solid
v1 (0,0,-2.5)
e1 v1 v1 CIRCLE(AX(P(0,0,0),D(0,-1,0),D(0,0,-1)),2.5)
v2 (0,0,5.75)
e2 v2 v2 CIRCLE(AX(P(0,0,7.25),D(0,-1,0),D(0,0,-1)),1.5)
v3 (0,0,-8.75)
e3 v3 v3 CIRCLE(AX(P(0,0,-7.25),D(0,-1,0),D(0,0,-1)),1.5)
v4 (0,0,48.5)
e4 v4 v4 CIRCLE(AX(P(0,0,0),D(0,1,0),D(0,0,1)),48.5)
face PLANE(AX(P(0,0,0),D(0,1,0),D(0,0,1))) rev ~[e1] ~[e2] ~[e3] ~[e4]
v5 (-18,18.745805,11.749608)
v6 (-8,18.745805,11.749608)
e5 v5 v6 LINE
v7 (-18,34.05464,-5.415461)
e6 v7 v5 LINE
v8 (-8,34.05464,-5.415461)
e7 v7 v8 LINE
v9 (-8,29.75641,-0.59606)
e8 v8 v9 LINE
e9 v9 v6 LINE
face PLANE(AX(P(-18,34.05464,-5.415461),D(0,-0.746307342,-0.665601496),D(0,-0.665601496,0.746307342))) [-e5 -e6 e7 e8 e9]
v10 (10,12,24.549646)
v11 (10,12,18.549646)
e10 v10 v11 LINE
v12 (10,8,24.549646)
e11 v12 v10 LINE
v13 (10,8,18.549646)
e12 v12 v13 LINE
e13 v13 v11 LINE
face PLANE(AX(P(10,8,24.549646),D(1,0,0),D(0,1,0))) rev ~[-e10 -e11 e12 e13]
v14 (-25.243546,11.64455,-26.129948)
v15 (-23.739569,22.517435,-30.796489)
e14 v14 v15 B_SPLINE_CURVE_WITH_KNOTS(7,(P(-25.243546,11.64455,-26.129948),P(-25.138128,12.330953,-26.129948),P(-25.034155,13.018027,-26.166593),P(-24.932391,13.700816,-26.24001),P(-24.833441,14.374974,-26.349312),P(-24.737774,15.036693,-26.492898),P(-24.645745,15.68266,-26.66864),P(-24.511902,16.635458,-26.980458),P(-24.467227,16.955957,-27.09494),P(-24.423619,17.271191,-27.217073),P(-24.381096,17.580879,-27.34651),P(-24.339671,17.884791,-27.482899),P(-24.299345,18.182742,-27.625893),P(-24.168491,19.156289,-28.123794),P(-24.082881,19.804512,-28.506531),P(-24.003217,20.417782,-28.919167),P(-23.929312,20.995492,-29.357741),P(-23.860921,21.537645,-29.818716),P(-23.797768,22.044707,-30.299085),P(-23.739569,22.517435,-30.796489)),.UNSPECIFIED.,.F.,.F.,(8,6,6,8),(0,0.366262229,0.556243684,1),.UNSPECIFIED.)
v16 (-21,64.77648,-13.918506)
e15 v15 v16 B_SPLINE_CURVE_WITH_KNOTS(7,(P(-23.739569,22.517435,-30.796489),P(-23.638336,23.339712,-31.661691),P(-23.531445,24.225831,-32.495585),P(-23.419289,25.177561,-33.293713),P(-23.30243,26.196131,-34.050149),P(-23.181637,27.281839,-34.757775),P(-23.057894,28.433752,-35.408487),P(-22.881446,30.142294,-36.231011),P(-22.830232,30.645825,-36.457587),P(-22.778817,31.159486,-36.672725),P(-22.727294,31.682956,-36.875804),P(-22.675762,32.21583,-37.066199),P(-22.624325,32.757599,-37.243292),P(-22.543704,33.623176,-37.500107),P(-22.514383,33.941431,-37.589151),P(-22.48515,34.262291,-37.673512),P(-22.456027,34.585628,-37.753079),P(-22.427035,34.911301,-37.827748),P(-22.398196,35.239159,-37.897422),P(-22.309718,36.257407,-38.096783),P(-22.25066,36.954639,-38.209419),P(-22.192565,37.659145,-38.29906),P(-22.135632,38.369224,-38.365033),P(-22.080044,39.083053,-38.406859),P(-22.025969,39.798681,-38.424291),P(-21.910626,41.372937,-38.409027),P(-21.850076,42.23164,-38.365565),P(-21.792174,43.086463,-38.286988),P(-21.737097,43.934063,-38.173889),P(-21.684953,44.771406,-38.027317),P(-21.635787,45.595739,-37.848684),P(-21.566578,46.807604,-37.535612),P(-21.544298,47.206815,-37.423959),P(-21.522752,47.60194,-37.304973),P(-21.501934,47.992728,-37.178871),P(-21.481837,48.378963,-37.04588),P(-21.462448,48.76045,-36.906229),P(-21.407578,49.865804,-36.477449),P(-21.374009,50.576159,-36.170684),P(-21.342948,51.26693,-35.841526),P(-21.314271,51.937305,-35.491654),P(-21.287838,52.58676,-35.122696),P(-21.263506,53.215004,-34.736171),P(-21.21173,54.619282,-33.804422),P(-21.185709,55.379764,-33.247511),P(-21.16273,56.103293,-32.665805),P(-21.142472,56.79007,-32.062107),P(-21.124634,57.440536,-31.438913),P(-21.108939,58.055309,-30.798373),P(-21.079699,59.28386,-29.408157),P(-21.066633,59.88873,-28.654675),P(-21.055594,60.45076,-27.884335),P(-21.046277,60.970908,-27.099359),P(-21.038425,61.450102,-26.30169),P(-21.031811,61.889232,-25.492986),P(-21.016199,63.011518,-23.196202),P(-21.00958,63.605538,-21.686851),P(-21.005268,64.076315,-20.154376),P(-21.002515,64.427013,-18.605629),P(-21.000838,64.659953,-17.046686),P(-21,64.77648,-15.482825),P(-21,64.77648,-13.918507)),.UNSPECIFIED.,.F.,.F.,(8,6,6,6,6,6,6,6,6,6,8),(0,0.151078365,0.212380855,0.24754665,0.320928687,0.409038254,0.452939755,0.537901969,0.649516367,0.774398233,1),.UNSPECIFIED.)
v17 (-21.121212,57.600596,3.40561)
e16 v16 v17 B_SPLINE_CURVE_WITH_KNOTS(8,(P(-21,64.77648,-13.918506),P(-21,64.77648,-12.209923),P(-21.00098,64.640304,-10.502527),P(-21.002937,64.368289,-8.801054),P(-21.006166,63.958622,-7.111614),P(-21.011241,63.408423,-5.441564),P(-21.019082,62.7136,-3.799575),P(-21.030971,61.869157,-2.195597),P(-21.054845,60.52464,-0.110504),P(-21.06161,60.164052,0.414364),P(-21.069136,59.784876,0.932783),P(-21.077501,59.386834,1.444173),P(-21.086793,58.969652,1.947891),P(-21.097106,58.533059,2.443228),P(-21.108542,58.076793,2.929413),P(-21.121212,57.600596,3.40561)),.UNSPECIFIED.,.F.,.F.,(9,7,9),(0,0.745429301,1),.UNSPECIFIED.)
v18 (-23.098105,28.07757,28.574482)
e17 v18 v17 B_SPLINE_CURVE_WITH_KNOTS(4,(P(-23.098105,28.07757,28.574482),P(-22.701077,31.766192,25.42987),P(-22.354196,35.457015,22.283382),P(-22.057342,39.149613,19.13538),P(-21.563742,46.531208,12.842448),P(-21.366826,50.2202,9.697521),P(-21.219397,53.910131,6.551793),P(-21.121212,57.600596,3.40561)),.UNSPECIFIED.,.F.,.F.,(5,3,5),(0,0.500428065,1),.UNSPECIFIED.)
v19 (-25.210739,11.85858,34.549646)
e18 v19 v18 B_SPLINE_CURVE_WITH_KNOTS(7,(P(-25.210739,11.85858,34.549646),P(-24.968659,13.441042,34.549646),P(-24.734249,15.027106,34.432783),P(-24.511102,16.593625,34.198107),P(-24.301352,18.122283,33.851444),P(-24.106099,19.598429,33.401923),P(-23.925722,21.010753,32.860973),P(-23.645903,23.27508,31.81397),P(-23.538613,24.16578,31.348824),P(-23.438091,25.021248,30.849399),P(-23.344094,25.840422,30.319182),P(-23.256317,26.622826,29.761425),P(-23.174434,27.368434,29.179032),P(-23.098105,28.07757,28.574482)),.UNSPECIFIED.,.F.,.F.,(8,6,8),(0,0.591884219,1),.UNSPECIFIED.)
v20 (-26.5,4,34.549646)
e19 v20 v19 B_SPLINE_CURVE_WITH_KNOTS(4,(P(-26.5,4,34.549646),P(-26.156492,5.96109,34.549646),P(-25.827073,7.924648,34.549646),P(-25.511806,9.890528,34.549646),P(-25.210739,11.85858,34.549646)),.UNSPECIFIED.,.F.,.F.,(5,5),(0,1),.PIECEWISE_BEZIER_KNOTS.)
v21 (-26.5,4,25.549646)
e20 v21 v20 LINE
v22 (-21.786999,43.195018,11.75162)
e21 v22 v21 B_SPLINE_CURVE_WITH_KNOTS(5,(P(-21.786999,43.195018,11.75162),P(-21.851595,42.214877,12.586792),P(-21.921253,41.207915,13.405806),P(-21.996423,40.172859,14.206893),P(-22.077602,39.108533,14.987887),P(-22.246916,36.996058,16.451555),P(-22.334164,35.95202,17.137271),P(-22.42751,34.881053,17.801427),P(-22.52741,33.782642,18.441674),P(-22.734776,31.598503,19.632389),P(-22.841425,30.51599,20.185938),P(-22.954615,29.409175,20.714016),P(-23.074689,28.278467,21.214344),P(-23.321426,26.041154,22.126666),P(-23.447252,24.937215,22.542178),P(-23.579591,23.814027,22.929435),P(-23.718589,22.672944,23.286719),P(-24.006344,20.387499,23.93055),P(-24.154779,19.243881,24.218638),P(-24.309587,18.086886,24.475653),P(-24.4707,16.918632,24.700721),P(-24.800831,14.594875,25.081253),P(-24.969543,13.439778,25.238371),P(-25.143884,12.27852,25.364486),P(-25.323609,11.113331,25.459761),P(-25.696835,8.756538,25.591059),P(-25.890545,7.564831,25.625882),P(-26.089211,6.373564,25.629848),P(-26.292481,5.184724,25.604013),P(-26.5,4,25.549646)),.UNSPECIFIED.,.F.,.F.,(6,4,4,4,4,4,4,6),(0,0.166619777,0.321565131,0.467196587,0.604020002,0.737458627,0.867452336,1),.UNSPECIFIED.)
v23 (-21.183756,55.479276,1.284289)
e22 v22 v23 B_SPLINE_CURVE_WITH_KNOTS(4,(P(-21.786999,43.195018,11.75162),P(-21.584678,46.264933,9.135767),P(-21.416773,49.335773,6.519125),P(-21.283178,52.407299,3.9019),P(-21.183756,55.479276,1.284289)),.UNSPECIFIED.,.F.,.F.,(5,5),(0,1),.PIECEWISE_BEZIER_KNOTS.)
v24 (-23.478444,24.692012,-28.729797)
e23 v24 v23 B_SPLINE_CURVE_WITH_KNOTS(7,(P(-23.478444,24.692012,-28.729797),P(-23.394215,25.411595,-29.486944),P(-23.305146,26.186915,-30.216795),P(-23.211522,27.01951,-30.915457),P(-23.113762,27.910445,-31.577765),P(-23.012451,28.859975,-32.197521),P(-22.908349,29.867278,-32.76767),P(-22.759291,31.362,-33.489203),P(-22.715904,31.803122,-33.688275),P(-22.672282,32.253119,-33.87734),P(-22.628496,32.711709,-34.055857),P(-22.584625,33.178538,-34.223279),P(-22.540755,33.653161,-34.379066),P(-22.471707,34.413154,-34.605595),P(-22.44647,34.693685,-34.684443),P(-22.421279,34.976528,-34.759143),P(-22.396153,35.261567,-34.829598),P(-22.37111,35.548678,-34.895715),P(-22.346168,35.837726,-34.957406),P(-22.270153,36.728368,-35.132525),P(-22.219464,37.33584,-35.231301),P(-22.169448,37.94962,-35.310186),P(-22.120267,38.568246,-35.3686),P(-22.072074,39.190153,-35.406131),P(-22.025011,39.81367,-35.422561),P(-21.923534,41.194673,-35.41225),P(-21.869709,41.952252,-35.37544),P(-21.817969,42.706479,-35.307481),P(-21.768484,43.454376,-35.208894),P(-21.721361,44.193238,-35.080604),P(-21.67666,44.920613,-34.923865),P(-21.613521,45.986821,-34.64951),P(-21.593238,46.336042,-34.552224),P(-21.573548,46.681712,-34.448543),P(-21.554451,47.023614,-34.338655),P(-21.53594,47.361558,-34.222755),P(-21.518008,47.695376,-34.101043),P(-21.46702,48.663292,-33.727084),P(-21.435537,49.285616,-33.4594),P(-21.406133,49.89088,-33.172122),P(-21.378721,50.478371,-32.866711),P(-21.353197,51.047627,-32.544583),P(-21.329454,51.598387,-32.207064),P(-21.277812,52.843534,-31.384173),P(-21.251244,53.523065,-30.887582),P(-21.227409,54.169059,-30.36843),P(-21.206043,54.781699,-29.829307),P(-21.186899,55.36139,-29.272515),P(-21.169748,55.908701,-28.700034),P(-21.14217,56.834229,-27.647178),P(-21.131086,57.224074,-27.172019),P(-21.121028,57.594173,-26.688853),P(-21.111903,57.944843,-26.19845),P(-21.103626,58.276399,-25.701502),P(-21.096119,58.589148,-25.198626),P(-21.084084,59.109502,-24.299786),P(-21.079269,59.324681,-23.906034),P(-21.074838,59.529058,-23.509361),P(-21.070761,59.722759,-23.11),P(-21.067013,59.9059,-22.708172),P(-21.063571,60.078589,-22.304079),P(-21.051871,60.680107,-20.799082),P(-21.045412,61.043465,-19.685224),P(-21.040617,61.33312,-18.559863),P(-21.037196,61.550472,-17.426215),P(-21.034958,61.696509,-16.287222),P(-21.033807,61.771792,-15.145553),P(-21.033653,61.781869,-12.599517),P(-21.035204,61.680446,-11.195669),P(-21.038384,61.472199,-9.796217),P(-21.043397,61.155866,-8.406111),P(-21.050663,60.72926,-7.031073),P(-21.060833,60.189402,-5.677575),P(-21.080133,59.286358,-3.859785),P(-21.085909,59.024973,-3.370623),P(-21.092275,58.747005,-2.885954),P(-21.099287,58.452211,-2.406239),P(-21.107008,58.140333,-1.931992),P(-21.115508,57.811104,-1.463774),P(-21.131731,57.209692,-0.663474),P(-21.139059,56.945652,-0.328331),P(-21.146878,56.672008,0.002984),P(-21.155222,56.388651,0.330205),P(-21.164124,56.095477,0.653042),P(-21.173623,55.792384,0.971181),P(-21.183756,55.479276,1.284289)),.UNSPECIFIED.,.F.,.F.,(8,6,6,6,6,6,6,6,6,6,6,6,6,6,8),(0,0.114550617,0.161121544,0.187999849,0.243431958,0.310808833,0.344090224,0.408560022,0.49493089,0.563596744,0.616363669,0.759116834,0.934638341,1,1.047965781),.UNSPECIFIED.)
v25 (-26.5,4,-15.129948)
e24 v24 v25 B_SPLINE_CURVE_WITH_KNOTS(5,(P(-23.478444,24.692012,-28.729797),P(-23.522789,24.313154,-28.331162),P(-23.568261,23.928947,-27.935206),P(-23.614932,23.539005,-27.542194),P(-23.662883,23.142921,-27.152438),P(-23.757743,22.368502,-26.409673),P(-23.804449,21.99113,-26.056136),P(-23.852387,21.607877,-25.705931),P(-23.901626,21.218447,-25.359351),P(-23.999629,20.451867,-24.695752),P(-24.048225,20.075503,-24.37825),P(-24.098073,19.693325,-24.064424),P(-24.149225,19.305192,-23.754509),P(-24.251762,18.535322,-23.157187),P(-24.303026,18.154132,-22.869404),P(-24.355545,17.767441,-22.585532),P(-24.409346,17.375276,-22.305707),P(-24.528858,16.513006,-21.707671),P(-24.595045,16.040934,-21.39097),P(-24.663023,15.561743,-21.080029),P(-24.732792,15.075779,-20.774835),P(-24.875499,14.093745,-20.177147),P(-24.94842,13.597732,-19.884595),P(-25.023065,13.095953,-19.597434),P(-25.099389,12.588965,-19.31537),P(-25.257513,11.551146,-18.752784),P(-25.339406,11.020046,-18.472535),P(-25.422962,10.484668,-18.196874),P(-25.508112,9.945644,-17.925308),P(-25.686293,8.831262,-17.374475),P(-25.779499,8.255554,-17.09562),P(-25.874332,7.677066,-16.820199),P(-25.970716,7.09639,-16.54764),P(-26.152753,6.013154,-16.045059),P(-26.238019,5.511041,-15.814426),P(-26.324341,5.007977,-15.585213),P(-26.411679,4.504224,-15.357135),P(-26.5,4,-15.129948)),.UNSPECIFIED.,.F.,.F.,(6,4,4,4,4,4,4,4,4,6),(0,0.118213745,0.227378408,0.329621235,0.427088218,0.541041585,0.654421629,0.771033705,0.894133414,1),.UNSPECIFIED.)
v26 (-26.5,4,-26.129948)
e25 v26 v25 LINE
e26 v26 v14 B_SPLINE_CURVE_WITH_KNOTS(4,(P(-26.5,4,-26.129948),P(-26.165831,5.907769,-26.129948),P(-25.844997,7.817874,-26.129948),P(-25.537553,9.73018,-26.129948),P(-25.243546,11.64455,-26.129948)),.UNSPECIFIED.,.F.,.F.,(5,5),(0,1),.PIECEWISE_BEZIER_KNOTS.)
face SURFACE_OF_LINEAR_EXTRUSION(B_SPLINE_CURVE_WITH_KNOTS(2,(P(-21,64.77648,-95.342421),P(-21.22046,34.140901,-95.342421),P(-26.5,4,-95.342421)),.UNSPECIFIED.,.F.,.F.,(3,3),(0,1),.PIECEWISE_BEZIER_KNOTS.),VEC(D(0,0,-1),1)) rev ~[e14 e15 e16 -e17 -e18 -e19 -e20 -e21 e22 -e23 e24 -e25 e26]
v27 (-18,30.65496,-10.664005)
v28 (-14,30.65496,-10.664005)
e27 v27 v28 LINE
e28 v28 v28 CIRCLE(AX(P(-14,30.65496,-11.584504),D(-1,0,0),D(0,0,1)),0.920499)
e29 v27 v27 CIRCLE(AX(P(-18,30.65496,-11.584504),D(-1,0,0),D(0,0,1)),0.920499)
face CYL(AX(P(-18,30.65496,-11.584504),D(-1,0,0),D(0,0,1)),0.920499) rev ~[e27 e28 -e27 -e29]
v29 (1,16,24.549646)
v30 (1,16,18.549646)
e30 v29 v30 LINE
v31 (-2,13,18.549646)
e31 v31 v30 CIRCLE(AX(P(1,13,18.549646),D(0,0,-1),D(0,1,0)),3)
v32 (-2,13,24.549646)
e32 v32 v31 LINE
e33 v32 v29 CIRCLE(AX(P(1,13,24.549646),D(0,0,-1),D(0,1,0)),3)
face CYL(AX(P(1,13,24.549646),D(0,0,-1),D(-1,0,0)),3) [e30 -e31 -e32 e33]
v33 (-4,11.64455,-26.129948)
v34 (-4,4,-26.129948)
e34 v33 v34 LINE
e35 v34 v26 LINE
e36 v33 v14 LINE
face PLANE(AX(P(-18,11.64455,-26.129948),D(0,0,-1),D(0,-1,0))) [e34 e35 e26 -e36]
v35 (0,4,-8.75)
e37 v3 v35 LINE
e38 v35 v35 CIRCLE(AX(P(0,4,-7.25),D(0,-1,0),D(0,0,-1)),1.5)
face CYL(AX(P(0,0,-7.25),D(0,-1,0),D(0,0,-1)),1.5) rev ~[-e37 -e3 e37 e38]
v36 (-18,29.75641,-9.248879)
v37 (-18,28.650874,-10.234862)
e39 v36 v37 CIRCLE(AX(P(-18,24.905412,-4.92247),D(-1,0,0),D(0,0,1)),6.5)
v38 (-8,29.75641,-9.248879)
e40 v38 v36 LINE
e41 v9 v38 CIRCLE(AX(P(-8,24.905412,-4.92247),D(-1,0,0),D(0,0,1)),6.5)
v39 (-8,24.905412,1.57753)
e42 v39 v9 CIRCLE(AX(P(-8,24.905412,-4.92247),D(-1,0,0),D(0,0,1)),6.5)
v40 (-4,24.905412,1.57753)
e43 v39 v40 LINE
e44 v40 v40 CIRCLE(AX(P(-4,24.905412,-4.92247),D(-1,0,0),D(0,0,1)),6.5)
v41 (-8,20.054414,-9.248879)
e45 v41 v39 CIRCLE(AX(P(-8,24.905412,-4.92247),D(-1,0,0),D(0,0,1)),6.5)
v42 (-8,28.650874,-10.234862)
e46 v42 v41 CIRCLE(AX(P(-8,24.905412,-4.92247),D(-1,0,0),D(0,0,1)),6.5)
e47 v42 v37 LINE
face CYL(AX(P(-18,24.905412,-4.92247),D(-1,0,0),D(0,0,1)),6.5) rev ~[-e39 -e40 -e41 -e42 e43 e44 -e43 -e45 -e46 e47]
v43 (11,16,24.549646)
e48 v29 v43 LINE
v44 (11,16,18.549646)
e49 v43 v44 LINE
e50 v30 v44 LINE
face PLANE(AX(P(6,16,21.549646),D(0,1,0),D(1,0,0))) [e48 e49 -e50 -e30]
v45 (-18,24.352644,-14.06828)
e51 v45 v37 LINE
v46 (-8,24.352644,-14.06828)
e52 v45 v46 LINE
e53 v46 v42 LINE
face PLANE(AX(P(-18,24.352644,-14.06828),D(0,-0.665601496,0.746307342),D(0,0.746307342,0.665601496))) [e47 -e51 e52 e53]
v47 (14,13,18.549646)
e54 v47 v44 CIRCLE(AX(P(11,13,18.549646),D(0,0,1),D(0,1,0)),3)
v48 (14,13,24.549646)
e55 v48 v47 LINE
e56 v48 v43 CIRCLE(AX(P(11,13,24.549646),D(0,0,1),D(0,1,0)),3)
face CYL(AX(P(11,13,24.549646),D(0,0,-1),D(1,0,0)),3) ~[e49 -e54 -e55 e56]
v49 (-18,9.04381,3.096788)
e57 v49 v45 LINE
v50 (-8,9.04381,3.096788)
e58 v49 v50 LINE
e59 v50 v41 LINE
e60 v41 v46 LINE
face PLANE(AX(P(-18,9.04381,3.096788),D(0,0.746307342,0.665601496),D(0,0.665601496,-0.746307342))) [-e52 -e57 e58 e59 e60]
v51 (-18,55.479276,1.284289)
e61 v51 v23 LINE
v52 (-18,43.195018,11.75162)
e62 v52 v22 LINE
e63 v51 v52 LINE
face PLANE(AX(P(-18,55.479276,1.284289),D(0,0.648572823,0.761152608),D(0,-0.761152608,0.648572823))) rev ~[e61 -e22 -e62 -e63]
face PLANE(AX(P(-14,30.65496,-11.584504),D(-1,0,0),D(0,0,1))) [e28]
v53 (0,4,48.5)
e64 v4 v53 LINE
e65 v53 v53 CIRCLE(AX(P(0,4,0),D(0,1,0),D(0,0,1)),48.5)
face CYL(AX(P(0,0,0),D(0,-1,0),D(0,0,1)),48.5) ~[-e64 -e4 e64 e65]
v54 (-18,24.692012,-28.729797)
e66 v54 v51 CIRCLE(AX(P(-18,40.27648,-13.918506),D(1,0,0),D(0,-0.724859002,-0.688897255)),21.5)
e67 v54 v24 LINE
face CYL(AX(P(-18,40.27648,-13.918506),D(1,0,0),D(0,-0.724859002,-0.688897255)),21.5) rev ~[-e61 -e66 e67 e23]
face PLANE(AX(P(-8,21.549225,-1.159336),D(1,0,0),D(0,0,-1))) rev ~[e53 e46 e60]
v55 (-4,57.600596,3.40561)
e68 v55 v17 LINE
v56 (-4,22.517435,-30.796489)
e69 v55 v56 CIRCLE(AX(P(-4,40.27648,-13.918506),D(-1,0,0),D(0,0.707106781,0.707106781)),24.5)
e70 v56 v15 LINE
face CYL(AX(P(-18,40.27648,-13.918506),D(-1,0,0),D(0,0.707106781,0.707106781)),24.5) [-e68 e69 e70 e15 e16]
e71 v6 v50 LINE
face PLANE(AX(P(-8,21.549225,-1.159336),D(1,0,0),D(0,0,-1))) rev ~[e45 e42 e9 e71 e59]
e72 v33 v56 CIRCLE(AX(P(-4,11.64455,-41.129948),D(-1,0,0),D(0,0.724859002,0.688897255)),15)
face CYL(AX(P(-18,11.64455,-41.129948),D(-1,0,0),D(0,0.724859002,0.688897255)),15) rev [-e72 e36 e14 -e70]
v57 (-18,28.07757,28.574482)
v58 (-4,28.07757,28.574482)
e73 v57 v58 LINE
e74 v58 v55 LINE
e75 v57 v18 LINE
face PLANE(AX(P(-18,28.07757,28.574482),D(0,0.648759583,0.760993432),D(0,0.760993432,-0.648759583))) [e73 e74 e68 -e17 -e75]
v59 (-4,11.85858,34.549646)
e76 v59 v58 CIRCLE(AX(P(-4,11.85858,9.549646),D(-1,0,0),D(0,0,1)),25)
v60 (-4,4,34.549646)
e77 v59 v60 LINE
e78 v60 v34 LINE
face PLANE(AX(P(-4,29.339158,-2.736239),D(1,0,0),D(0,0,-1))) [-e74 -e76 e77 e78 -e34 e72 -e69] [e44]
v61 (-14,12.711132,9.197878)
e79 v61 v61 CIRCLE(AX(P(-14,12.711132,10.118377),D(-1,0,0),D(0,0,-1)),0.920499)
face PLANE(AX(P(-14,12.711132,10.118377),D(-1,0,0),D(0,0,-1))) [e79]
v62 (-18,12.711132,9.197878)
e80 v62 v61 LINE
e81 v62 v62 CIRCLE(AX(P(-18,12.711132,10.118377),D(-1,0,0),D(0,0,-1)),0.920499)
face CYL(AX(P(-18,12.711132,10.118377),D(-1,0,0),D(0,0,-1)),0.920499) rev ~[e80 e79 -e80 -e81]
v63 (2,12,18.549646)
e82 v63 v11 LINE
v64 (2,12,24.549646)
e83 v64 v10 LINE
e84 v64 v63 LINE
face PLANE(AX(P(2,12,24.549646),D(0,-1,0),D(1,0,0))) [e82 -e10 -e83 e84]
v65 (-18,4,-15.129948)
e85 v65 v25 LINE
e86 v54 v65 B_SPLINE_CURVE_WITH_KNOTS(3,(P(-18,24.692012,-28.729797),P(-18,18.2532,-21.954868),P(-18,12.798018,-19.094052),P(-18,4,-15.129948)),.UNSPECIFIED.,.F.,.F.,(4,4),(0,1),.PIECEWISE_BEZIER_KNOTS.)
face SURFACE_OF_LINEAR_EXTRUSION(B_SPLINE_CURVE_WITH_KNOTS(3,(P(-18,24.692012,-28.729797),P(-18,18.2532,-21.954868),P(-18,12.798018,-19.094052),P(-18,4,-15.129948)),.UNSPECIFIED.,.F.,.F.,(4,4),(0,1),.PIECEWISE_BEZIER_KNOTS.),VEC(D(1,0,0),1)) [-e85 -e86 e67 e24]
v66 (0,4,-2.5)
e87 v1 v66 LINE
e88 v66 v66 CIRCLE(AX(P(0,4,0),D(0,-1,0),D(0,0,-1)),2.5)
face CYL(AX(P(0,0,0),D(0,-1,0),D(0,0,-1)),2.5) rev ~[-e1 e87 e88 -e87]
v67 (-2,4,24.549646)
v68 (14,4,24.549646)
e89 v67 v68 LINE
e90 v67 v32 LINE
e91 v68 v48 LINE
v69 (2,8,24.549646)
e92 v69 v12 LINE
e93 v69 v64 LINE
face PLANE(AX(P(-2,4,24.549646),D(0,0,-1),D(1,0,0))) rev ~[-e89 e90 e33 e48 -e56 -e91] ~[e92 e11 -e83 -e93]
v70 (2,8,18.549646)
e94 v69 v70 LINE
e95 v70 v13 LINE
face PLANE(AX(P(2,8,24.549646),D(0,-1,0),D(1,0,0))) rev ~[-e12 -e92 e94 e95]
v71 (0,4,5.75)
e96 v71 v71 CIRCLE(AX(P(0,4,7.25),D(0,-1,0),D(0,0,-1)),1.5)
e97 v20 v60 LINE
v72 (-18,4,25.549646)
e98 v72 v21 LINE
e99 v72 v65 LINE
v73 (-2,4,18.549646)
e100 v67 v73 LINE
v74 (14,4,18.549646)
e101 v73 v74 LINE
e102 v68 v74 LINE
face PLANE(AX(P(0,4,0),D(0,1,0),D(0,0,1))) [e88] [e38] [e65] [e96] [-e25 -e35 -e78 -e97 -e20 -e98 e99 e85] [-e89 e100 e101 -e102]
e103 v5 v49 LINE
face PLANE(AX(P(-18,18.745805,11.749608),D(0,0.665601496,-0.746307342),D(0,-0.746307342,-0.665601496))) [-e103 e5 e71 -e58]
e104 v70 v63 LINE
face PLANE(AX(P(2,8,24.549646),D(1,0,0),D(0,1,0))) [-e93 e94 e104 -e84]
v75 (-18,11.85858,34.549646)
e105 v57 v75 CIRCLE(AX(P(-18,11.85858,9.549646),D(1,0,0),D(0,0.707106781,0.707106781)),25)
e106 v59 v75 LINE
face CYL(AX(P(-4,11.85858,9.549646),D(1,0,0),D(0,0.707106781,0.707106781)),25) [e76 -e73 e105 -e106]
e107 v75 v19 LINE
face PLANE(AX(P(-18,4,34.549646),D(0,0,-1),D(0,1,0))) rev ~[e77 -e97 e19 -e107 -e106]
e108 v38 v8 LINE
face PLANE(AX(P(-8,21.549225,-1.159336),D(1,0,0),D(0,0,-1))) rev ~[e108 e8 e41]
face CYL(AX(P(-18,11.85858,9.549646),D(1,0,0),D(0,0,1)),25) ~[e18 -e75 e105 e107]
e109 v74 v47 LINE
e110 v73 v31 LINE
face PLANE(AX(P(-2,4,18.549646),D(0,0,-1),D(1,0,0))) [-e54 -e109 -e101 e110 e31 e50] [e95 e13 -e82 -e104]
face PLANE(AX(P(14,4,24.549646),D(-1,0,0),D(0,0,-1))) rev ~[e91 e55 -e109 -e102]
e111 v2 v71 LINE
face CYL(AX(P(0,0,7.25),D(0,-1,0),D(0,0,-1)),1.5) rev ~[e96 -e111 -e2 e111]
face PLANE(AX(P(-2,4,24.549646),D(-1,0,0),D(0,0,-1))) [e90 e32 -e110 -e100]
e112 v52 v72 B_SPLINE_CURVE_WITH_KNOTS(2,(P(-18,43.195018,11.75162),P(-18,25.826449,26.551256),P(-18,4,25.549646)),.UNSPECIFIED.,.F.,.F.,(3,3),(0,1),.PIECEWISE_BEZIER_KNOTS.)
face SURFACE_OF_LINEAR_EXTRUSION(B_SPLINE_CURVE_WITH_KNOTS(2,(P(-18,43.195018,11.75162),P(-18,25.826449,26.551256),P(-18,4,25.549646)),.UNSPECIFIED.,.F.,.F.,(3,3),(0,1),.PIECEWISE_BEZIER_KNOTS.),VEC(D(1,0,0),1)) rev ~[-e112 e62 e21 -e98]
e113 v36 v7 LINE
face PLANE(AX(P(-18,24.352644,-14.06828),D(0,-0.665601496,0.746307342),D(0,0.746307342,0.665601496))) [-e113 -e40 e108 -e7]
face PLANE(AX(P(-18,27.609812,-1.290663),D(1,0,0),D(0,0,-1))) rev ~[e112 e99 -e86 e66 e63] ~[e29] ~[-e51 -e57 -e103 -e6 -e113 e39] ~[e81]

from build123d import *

# Parameters (mm, degrees)
SKETCH2_R                       = 48.5
BOSS_EXTRUDE1_DEPTH             = 4
SKETCH4_R                       = 1.5
CUT_EXTRUDE2_DEPTH              = 69.705894944
SKETCH5_R                       = 2.5
CUT_EXTRUDE3_DEPTH              = 69.705894944
BOSS_EXTRUDE2_DEPTH             = 14
BOSS_EXTRUDE7_DEPTH             = 9
BOSS_EXTRUDE7_DIRECTION_2_REACH = 104.912
BOSS_EXTRUDE10_DEPTH            = 9
SKETCH27_W                      = 16
SKETCH27_H                      = 6
BOSS_EXTRUDE11_DEPTH            = 12
FILLET6_R                       = 3
CUT_EXTRUDE16_REACH             = 111.016
SKETCH28_W                      = 8
SKETCH28_H                      = 4
CUT_EXTRUDE17_DEPTH             = 95.342420983
CUT_EXTRUDE17_DEPTH_BACK        = 95.342420983
SKETCH31_R                      = 6.5
CUT_EXTRUDE18_DEPTH             = 105.740118374
CUT_EXTRUDE19_DEPTH             = 10
SKETCH32_R                      = 0.92049896
CUT_EXTRUDE20_DEPTH             = 4
SKETCH32_3_R                    = 0.92049896
CUT_EXTRUDE21_DEPTH             = 4


with BuildPart() as part:
    # Sketch2 → Boss-Extrude1 (new body)
    with BuildSketch(Plane(origin=(0, 0, 0), x_dir=(1, 0, 0), z_dir=(0, 1, 0))):
        with Locations(Location((0, 0, 0), (0, 0, 270))):
            Circle(SKETCH2_R)
    extrude(amount=BOSS_EXTRUDE1_DEPTH)

    # Sketch4 → Cut-Extrude2 (cut, through all)
    with BuildSketch(Plane.XZ):
        with Locations(Location((0, 7.25, 0), (0, 0, 270))):
            Circle(SKETCH4_R)
        with Locations(Location((0, -7.25, 0), (0, 0, 270))):
            Circle(SKETCH4_R)
    extrude(amount=-CUT_EXTRUDE2_DEPTH, mode=Mode.SUBTRACT)

    # Sketch5 → Cut-Extrude3 (cut, through all)
    with BuildSketch(Plane.XZ):
        with Locations(Location((0, 0, 0), (0, 0, 270))):
            Circle(SKETCH5_R)
    extrude(amount=-CUT_EXTRUDE3_DEPTH, mode=Mode.SUBTRACT)

    # Sketch7 → Boss-Extrude2 (add)
    with BuildSketch(Plane(origin=(-4, 0, 0), x_dir=(0, 0, -1), z_dir=(1, 0, 0))):
        with BuildLine():
            Line((23.129947874, 4), (23.129947874, 11.644549616))
            ThreePointArc((23.129947874, 11.644549616), (24.589048403, 18.743749901), (28.729797284, 24.692011643))
            ThreePointArc((28.729797284, 24.692011643), (29.313383054, 55.284736897), (-1.284289494, 55.479275971))
            Line((-1.284289494, 55.479275971), (-27.227315747, 29.536249718))
            ThreePointArc((-27.227315747, 29.536249718), (-32.64663453, 21.425665997), (-34.549646217, 11.858580188))
            Line((-34.549646217, 11.858580188), (-34.549646217, 4))
            Line((-34.549646217, 4), (23.129947874, 4))
        make_face()
    extrude(amount=-BOSS_EXTRUDE2_DEPTH)

    # Sketch17 → Boss-Extrude7 (add)
    with BuildSketch(Plane.ZY.offset(18)):
        with BuildLine():
            ThreePointArc((34.549646217, 11.858580188), (33.008342843, 20.500891953), (28.574482006, 28.077569775))
            ThreePointArc((28.574482006, 28.077569775), (27.915386359, 28.820289685), (27.227315747, 29.536249718))
            Line((27.227315747, 29.536249718), (1.284289494, 55.479275971))
            Line((1.284289494, 55.479275971), (26.295003593, 26.127182305))
            ThreePointArc((26.295003593, 26.127182305), (30.194232218, 19.461281607), (31.549646217, 11.858580188))
            Line((31.549646217, 11.858580188), (31.549646217, 4))
            Line((31.549646217, 4), (34.549646217, 4))
            Line((34.549646217, 4), (34.549646217, 11.858580188))
        make_face()
        with BuildLine():
            Line((28.574482006, 28.077569775), (3.405609837, 57.600596315))
            ThreePointArc((3.405609837, 57.600596315), (-31.461505391, 57.378912253), (-30.796489049, 22.517434639))
            ThreePointArc((-30.796489049, 22.517434639), (-27.345864981, 17.560549854), (-26.129947874, 11.644549616))
            Line((-26.129947874, 11.644549616), (-26.129947874, 4))
            Line((-26.129947874, 4), (-23.129947874, 4))
            Line((-23.129947874, 4), (-23.129947874, 11.644549616))
            ThreePointArc((-23.129947874, 11.644549616), (-24.589048403, 18.743749901), (-28.729797284, 24.692011643))
            ThreePointArc((-28.729797284, 24.692011643), (-29.313383054, 55.284736897), (1.284289494, 55.479275971))
            Line((1.284289494, 55.479275971), (27.227315747, 29.536249718))
            ThreePointArc((27.227315747, 29.536249718), (27.915386359, 28.820289685), (28.574482006, 28.077569775))
        make_face()
    extrude(amount=BOSS_EXTRUDE7_DEPTH)

    # Boss-Extrude7 direction 2: up to this face of the body (flat: up to its plane)
    boss_extrude7_direction_2_end = Plane(part.part.faces().sort_by_distance((-4, 29.339157607, -2.736239069))[0])
    # Sketch17 → Boss-Extrude7 direction 2 (add, up to the picked face)
    with BuildSketch(Plane.ZY.offset(18), mode=Mode.PRIVATE) as boss_extrude7_direction_2_sk1:
        with BuildLine():
            ThreePointArc((34.549646217, 11.858580188), (33.008342843, 20.500891953), (28.574482006, 28.077569775))
            ThreePointArc((28.574482006, 28.077569775), (27.915386359, 28.820289685), (27.227315747, 29.536249718))
            Line((27.227315747, 29.536249718), (1.284289494, 55.479275971))
            Line((1.284289494, 55.479275971), (26.295003593, 26.127182305))
            ThreePointArc((26.295003593, 26.127182305), (30.194232218, 19.461281607), (31.549646217, 11.858580188))
            Line((31.549646217, 11.858580188), (31.549646217, 4))
            Line((31.549646217, 4), (34.549646217, 4))
            Line((34.549646217, 4), (34.549646217, 11.858580188))
        make_face()
    boss_extrude7_direction_2_tool1 = split(extrude(boss_extrude7_direction_2_sk1.sketch, amount=-BOSS_EXTRUDE7_DIRECTION_2_REACH, mode=Mode.PRIVATE), bisect_by=boss_extrude7_direction_2_end, keep=Keep.BOTH, mode=Mode.PRIVATE)
    # Sketch17 → Boss-Extrude7 direction 2 (add, up to the picked face)
    with BuildSketch(Plane.ZY.offset(18), mode=Mode.PRIVATE) as boss_extrude7_direction_2_sk2:
        with BuildLine():
            Line((28.574482006, 28.077569775), (3.405609837, 57.600596315))
            ThreePointArc((3.405609837, 57.600596315), (-31.461505391, 57.378912253), (-30.796489049, 22.517434639))
            ThreePointArc((-30.796489049, 22.517434639), (-27.345864981, 17.560549854), (-26.129947874, 11.644549616))
            Line((-26.129947874, 11.644549616), (-26.129947874, 4))
            Line((-26.129947874, 4), (-23.129947874, 4))
            Line((-23.129947874, 4), (-23.129947874, 11.644549616))
            ThreePointArc((-23.129947874, 11.644549616), (-24.589048403, 18.743749901), (-28.729797284, 24.692011643))
            ThreePointArc((-28.729797284, 24.692011643), (-29.313383054, 55.284736897), (1.284289494, 55.479275971))
            Line((1.284289494, 55.479275971), (27.227315747, 29.536249718))
            ThreePointArc((27.227315747, 29.536249718), (27.915386359, 28.820289685), (28.574482006, 28.077569775))
        make_face()
    boss_extrude7_direction_2_tool2 = split(extrude(boss_extrude7_direction_2_sk2.sketch, amount=-BOSS_EXTRUDE7_DIRECTION_2_REACH, mode=Mode.PRIVATE), bisect_by=boss_extrude7_direction_2_end, keep=Keep.BOTH, mode=Mode.PRIVATE)
    add(boss_extrude7_direction_2_tool1.solids().sort_by(Axis((-18, 4.612919, 33.049646), (1, 0, 0)))[0])
    add(boss_extrude7_direction_2_tool2.solids().sort_by(Axis((-18, 43.147366, 14.895406), (1, 0, 0)))[0])

    # Sketch25 → Boss-Extrude10 (add)
    with BuildSketch(Plane.ZY.offset(18)):
        with BuildLine():
            ThreePointArc((-28.729797284, 24.692011643), (-24.589048403, 18.743749901), (-23.129947874, 11.644549616))
            Line((-23.129947874, 11.644549616), (-23.129947874, 4))
            Line((-23.129947874, 4), (-15.129947874, 4))
            add(Edge.make_bspline(
                [(-28.729797284, 24.692011643), (-21.954867515, 18.253200081), (-19.09405247, 12.798017691), (-15.129947874, 4)],
                knots=[0, 0, 0, 0, 1, 1, 1, 1], degree=3))
        make_face()
        with BuildLine():
            add(Edge.make_bspline(
                [(11.751619577, 43.19501844), (26.551255916, 25.8264495), (25.549646217, 4)],
                knots=[0, 0, 0, 1, 1, 1], degree=2))
            Line((25.549646217, 4), (31.549646217, 4))
            Line((31.549646217, 4), (31.549646217, 11.858580188))
            ThreePointArc((31.549646217, 11.858580188), (30.194232218, 19.461281607), (26.295003593, 26.127182305))
            Line((26.295003593, 26.127182305), (11.751619577, 43.19501844))
        make_face()
    extrude(amount=BOSS_EXTRUDE10_DEPTH)

    # Sketch27 → Boss-Extrude11 (add)
    with BuildSketch(Plane(origin=(0, 4, 0), x_dir=(1, 0, 0), z_dir=(0, 1, 0))):
        with Locations((6, -21.549646217)):
            Rectangle(SKETCH27_W, SKETCH27_H)
    extrude(amount=BOSS_EXTRUDE11_DEPTH)

    # Fillet6
    fillet6_edges = [part.edges().sort_by_distance(p)[0] for p in [
        (-2, 16, 21.549646217),
        (14, 16, 21.549646217),
    ]]
    fillet(fillet6_edges, radius=FILLET6_R)

    # Sketch28 → Cut-Extrude16 (cut, up to next)
    with BuildSketch(Plane.XY.offset(24.549646217), mode=Mode.PRIVATE) as cut_extrude16_sk1:
        with Locations((6, 10)):
            Rectangle(SKETCH28_W, SKETCH28_H)
    cut_extrude16_tool1 = extrude(cut_extrude16_sk1.sketch, amount=-CUT_EXTRUDE16_REACH, mode=Mode.PRIVATE) & part.part
    add(cut_extrude16_tool1.solids().sort_by_distance((6, 10, 24.549646))[0], mode=Mode.SUBTRACT)

    # Sketch29 → Cut-Extrude17 (cut, two sides: drawn at the far end of the back side and taken through both)
    with BuildSketch(Plane.XY.offset(-CUT_EXTRUDE17_DEPTH_BACK)):
        with BuildLine():
            Line((-21, 64.776480176), (-27, 64.776480176))
            Line((-27, 64.776480176), (-27, 4))
            Line((-27, 4), (-26.5, 4))
            add(Edge.make_bspline(
                [(-21, 64.776480176), (-21.220459696, 34.140901434), (-26.5, 4)],
                knots=[0, 0, 0, 1, 1, 1], degree=2))
        make_face()
    extrude(amount=CUT_EXTRUDE17_DEPTH + CUT_EXTRUDE17_DEPTH_BACK, mode=Mode.SUBTRACT)

    # Sketch31 → Cut-Extrude18 (cut, through all)
    with BuildSketch(Plane.ZY.offset(18)):
        with Locations((-4.922469695, 24.905412087)):
            Circle(SKETCH31_R)
    extrude(amount=-CUT_EXTRUDE18_DEPTH, mode=Mode.SUBTRACT)

    # Sketch31<3> → Cut-Extrude19 (cut)
    with BuildSketch(Plane.ZY.offset(18)):
        Polygon((-5.41546104, 34.054639751), (11.74960782, 18.74580534), (3.09678837, 9.043809897), (-14.06828049, 24.352644308), align=None)
    extrude(amount=-CUT_EXTRUDE19_DEPTH, mode=Mode.SUBTRACT)

    # Sketch32 → Cut-Extrude20 (cut)
    with BuildSketch(Plane.ZY.offset(18)):
        with Locations((-11.584503567, 30.654960303)):
            Circle(SKETCH32_R)
    extrude(amount=-CUT_EXTRUDE20_DEPTH, mode=Mode.SUBTRACT)

    # Sketch32<3> → Cut-Extrude21 (cut)
    with BuildSketch(Plane.ZY.offset(18)):
        with Locations((-11.584503567, 30.654960303)):
            Circle(SKETCH32_3_R)
        with Locations(Location((10.118376889, 12.711132154, 0), (0, 0, 180))):
            Circle(SKETCH32_3_R)
    extrude(amount=-CUT_EXTRUDE21_DEPTH, mode=Mode.SUBTRACT)


solid = part.part
